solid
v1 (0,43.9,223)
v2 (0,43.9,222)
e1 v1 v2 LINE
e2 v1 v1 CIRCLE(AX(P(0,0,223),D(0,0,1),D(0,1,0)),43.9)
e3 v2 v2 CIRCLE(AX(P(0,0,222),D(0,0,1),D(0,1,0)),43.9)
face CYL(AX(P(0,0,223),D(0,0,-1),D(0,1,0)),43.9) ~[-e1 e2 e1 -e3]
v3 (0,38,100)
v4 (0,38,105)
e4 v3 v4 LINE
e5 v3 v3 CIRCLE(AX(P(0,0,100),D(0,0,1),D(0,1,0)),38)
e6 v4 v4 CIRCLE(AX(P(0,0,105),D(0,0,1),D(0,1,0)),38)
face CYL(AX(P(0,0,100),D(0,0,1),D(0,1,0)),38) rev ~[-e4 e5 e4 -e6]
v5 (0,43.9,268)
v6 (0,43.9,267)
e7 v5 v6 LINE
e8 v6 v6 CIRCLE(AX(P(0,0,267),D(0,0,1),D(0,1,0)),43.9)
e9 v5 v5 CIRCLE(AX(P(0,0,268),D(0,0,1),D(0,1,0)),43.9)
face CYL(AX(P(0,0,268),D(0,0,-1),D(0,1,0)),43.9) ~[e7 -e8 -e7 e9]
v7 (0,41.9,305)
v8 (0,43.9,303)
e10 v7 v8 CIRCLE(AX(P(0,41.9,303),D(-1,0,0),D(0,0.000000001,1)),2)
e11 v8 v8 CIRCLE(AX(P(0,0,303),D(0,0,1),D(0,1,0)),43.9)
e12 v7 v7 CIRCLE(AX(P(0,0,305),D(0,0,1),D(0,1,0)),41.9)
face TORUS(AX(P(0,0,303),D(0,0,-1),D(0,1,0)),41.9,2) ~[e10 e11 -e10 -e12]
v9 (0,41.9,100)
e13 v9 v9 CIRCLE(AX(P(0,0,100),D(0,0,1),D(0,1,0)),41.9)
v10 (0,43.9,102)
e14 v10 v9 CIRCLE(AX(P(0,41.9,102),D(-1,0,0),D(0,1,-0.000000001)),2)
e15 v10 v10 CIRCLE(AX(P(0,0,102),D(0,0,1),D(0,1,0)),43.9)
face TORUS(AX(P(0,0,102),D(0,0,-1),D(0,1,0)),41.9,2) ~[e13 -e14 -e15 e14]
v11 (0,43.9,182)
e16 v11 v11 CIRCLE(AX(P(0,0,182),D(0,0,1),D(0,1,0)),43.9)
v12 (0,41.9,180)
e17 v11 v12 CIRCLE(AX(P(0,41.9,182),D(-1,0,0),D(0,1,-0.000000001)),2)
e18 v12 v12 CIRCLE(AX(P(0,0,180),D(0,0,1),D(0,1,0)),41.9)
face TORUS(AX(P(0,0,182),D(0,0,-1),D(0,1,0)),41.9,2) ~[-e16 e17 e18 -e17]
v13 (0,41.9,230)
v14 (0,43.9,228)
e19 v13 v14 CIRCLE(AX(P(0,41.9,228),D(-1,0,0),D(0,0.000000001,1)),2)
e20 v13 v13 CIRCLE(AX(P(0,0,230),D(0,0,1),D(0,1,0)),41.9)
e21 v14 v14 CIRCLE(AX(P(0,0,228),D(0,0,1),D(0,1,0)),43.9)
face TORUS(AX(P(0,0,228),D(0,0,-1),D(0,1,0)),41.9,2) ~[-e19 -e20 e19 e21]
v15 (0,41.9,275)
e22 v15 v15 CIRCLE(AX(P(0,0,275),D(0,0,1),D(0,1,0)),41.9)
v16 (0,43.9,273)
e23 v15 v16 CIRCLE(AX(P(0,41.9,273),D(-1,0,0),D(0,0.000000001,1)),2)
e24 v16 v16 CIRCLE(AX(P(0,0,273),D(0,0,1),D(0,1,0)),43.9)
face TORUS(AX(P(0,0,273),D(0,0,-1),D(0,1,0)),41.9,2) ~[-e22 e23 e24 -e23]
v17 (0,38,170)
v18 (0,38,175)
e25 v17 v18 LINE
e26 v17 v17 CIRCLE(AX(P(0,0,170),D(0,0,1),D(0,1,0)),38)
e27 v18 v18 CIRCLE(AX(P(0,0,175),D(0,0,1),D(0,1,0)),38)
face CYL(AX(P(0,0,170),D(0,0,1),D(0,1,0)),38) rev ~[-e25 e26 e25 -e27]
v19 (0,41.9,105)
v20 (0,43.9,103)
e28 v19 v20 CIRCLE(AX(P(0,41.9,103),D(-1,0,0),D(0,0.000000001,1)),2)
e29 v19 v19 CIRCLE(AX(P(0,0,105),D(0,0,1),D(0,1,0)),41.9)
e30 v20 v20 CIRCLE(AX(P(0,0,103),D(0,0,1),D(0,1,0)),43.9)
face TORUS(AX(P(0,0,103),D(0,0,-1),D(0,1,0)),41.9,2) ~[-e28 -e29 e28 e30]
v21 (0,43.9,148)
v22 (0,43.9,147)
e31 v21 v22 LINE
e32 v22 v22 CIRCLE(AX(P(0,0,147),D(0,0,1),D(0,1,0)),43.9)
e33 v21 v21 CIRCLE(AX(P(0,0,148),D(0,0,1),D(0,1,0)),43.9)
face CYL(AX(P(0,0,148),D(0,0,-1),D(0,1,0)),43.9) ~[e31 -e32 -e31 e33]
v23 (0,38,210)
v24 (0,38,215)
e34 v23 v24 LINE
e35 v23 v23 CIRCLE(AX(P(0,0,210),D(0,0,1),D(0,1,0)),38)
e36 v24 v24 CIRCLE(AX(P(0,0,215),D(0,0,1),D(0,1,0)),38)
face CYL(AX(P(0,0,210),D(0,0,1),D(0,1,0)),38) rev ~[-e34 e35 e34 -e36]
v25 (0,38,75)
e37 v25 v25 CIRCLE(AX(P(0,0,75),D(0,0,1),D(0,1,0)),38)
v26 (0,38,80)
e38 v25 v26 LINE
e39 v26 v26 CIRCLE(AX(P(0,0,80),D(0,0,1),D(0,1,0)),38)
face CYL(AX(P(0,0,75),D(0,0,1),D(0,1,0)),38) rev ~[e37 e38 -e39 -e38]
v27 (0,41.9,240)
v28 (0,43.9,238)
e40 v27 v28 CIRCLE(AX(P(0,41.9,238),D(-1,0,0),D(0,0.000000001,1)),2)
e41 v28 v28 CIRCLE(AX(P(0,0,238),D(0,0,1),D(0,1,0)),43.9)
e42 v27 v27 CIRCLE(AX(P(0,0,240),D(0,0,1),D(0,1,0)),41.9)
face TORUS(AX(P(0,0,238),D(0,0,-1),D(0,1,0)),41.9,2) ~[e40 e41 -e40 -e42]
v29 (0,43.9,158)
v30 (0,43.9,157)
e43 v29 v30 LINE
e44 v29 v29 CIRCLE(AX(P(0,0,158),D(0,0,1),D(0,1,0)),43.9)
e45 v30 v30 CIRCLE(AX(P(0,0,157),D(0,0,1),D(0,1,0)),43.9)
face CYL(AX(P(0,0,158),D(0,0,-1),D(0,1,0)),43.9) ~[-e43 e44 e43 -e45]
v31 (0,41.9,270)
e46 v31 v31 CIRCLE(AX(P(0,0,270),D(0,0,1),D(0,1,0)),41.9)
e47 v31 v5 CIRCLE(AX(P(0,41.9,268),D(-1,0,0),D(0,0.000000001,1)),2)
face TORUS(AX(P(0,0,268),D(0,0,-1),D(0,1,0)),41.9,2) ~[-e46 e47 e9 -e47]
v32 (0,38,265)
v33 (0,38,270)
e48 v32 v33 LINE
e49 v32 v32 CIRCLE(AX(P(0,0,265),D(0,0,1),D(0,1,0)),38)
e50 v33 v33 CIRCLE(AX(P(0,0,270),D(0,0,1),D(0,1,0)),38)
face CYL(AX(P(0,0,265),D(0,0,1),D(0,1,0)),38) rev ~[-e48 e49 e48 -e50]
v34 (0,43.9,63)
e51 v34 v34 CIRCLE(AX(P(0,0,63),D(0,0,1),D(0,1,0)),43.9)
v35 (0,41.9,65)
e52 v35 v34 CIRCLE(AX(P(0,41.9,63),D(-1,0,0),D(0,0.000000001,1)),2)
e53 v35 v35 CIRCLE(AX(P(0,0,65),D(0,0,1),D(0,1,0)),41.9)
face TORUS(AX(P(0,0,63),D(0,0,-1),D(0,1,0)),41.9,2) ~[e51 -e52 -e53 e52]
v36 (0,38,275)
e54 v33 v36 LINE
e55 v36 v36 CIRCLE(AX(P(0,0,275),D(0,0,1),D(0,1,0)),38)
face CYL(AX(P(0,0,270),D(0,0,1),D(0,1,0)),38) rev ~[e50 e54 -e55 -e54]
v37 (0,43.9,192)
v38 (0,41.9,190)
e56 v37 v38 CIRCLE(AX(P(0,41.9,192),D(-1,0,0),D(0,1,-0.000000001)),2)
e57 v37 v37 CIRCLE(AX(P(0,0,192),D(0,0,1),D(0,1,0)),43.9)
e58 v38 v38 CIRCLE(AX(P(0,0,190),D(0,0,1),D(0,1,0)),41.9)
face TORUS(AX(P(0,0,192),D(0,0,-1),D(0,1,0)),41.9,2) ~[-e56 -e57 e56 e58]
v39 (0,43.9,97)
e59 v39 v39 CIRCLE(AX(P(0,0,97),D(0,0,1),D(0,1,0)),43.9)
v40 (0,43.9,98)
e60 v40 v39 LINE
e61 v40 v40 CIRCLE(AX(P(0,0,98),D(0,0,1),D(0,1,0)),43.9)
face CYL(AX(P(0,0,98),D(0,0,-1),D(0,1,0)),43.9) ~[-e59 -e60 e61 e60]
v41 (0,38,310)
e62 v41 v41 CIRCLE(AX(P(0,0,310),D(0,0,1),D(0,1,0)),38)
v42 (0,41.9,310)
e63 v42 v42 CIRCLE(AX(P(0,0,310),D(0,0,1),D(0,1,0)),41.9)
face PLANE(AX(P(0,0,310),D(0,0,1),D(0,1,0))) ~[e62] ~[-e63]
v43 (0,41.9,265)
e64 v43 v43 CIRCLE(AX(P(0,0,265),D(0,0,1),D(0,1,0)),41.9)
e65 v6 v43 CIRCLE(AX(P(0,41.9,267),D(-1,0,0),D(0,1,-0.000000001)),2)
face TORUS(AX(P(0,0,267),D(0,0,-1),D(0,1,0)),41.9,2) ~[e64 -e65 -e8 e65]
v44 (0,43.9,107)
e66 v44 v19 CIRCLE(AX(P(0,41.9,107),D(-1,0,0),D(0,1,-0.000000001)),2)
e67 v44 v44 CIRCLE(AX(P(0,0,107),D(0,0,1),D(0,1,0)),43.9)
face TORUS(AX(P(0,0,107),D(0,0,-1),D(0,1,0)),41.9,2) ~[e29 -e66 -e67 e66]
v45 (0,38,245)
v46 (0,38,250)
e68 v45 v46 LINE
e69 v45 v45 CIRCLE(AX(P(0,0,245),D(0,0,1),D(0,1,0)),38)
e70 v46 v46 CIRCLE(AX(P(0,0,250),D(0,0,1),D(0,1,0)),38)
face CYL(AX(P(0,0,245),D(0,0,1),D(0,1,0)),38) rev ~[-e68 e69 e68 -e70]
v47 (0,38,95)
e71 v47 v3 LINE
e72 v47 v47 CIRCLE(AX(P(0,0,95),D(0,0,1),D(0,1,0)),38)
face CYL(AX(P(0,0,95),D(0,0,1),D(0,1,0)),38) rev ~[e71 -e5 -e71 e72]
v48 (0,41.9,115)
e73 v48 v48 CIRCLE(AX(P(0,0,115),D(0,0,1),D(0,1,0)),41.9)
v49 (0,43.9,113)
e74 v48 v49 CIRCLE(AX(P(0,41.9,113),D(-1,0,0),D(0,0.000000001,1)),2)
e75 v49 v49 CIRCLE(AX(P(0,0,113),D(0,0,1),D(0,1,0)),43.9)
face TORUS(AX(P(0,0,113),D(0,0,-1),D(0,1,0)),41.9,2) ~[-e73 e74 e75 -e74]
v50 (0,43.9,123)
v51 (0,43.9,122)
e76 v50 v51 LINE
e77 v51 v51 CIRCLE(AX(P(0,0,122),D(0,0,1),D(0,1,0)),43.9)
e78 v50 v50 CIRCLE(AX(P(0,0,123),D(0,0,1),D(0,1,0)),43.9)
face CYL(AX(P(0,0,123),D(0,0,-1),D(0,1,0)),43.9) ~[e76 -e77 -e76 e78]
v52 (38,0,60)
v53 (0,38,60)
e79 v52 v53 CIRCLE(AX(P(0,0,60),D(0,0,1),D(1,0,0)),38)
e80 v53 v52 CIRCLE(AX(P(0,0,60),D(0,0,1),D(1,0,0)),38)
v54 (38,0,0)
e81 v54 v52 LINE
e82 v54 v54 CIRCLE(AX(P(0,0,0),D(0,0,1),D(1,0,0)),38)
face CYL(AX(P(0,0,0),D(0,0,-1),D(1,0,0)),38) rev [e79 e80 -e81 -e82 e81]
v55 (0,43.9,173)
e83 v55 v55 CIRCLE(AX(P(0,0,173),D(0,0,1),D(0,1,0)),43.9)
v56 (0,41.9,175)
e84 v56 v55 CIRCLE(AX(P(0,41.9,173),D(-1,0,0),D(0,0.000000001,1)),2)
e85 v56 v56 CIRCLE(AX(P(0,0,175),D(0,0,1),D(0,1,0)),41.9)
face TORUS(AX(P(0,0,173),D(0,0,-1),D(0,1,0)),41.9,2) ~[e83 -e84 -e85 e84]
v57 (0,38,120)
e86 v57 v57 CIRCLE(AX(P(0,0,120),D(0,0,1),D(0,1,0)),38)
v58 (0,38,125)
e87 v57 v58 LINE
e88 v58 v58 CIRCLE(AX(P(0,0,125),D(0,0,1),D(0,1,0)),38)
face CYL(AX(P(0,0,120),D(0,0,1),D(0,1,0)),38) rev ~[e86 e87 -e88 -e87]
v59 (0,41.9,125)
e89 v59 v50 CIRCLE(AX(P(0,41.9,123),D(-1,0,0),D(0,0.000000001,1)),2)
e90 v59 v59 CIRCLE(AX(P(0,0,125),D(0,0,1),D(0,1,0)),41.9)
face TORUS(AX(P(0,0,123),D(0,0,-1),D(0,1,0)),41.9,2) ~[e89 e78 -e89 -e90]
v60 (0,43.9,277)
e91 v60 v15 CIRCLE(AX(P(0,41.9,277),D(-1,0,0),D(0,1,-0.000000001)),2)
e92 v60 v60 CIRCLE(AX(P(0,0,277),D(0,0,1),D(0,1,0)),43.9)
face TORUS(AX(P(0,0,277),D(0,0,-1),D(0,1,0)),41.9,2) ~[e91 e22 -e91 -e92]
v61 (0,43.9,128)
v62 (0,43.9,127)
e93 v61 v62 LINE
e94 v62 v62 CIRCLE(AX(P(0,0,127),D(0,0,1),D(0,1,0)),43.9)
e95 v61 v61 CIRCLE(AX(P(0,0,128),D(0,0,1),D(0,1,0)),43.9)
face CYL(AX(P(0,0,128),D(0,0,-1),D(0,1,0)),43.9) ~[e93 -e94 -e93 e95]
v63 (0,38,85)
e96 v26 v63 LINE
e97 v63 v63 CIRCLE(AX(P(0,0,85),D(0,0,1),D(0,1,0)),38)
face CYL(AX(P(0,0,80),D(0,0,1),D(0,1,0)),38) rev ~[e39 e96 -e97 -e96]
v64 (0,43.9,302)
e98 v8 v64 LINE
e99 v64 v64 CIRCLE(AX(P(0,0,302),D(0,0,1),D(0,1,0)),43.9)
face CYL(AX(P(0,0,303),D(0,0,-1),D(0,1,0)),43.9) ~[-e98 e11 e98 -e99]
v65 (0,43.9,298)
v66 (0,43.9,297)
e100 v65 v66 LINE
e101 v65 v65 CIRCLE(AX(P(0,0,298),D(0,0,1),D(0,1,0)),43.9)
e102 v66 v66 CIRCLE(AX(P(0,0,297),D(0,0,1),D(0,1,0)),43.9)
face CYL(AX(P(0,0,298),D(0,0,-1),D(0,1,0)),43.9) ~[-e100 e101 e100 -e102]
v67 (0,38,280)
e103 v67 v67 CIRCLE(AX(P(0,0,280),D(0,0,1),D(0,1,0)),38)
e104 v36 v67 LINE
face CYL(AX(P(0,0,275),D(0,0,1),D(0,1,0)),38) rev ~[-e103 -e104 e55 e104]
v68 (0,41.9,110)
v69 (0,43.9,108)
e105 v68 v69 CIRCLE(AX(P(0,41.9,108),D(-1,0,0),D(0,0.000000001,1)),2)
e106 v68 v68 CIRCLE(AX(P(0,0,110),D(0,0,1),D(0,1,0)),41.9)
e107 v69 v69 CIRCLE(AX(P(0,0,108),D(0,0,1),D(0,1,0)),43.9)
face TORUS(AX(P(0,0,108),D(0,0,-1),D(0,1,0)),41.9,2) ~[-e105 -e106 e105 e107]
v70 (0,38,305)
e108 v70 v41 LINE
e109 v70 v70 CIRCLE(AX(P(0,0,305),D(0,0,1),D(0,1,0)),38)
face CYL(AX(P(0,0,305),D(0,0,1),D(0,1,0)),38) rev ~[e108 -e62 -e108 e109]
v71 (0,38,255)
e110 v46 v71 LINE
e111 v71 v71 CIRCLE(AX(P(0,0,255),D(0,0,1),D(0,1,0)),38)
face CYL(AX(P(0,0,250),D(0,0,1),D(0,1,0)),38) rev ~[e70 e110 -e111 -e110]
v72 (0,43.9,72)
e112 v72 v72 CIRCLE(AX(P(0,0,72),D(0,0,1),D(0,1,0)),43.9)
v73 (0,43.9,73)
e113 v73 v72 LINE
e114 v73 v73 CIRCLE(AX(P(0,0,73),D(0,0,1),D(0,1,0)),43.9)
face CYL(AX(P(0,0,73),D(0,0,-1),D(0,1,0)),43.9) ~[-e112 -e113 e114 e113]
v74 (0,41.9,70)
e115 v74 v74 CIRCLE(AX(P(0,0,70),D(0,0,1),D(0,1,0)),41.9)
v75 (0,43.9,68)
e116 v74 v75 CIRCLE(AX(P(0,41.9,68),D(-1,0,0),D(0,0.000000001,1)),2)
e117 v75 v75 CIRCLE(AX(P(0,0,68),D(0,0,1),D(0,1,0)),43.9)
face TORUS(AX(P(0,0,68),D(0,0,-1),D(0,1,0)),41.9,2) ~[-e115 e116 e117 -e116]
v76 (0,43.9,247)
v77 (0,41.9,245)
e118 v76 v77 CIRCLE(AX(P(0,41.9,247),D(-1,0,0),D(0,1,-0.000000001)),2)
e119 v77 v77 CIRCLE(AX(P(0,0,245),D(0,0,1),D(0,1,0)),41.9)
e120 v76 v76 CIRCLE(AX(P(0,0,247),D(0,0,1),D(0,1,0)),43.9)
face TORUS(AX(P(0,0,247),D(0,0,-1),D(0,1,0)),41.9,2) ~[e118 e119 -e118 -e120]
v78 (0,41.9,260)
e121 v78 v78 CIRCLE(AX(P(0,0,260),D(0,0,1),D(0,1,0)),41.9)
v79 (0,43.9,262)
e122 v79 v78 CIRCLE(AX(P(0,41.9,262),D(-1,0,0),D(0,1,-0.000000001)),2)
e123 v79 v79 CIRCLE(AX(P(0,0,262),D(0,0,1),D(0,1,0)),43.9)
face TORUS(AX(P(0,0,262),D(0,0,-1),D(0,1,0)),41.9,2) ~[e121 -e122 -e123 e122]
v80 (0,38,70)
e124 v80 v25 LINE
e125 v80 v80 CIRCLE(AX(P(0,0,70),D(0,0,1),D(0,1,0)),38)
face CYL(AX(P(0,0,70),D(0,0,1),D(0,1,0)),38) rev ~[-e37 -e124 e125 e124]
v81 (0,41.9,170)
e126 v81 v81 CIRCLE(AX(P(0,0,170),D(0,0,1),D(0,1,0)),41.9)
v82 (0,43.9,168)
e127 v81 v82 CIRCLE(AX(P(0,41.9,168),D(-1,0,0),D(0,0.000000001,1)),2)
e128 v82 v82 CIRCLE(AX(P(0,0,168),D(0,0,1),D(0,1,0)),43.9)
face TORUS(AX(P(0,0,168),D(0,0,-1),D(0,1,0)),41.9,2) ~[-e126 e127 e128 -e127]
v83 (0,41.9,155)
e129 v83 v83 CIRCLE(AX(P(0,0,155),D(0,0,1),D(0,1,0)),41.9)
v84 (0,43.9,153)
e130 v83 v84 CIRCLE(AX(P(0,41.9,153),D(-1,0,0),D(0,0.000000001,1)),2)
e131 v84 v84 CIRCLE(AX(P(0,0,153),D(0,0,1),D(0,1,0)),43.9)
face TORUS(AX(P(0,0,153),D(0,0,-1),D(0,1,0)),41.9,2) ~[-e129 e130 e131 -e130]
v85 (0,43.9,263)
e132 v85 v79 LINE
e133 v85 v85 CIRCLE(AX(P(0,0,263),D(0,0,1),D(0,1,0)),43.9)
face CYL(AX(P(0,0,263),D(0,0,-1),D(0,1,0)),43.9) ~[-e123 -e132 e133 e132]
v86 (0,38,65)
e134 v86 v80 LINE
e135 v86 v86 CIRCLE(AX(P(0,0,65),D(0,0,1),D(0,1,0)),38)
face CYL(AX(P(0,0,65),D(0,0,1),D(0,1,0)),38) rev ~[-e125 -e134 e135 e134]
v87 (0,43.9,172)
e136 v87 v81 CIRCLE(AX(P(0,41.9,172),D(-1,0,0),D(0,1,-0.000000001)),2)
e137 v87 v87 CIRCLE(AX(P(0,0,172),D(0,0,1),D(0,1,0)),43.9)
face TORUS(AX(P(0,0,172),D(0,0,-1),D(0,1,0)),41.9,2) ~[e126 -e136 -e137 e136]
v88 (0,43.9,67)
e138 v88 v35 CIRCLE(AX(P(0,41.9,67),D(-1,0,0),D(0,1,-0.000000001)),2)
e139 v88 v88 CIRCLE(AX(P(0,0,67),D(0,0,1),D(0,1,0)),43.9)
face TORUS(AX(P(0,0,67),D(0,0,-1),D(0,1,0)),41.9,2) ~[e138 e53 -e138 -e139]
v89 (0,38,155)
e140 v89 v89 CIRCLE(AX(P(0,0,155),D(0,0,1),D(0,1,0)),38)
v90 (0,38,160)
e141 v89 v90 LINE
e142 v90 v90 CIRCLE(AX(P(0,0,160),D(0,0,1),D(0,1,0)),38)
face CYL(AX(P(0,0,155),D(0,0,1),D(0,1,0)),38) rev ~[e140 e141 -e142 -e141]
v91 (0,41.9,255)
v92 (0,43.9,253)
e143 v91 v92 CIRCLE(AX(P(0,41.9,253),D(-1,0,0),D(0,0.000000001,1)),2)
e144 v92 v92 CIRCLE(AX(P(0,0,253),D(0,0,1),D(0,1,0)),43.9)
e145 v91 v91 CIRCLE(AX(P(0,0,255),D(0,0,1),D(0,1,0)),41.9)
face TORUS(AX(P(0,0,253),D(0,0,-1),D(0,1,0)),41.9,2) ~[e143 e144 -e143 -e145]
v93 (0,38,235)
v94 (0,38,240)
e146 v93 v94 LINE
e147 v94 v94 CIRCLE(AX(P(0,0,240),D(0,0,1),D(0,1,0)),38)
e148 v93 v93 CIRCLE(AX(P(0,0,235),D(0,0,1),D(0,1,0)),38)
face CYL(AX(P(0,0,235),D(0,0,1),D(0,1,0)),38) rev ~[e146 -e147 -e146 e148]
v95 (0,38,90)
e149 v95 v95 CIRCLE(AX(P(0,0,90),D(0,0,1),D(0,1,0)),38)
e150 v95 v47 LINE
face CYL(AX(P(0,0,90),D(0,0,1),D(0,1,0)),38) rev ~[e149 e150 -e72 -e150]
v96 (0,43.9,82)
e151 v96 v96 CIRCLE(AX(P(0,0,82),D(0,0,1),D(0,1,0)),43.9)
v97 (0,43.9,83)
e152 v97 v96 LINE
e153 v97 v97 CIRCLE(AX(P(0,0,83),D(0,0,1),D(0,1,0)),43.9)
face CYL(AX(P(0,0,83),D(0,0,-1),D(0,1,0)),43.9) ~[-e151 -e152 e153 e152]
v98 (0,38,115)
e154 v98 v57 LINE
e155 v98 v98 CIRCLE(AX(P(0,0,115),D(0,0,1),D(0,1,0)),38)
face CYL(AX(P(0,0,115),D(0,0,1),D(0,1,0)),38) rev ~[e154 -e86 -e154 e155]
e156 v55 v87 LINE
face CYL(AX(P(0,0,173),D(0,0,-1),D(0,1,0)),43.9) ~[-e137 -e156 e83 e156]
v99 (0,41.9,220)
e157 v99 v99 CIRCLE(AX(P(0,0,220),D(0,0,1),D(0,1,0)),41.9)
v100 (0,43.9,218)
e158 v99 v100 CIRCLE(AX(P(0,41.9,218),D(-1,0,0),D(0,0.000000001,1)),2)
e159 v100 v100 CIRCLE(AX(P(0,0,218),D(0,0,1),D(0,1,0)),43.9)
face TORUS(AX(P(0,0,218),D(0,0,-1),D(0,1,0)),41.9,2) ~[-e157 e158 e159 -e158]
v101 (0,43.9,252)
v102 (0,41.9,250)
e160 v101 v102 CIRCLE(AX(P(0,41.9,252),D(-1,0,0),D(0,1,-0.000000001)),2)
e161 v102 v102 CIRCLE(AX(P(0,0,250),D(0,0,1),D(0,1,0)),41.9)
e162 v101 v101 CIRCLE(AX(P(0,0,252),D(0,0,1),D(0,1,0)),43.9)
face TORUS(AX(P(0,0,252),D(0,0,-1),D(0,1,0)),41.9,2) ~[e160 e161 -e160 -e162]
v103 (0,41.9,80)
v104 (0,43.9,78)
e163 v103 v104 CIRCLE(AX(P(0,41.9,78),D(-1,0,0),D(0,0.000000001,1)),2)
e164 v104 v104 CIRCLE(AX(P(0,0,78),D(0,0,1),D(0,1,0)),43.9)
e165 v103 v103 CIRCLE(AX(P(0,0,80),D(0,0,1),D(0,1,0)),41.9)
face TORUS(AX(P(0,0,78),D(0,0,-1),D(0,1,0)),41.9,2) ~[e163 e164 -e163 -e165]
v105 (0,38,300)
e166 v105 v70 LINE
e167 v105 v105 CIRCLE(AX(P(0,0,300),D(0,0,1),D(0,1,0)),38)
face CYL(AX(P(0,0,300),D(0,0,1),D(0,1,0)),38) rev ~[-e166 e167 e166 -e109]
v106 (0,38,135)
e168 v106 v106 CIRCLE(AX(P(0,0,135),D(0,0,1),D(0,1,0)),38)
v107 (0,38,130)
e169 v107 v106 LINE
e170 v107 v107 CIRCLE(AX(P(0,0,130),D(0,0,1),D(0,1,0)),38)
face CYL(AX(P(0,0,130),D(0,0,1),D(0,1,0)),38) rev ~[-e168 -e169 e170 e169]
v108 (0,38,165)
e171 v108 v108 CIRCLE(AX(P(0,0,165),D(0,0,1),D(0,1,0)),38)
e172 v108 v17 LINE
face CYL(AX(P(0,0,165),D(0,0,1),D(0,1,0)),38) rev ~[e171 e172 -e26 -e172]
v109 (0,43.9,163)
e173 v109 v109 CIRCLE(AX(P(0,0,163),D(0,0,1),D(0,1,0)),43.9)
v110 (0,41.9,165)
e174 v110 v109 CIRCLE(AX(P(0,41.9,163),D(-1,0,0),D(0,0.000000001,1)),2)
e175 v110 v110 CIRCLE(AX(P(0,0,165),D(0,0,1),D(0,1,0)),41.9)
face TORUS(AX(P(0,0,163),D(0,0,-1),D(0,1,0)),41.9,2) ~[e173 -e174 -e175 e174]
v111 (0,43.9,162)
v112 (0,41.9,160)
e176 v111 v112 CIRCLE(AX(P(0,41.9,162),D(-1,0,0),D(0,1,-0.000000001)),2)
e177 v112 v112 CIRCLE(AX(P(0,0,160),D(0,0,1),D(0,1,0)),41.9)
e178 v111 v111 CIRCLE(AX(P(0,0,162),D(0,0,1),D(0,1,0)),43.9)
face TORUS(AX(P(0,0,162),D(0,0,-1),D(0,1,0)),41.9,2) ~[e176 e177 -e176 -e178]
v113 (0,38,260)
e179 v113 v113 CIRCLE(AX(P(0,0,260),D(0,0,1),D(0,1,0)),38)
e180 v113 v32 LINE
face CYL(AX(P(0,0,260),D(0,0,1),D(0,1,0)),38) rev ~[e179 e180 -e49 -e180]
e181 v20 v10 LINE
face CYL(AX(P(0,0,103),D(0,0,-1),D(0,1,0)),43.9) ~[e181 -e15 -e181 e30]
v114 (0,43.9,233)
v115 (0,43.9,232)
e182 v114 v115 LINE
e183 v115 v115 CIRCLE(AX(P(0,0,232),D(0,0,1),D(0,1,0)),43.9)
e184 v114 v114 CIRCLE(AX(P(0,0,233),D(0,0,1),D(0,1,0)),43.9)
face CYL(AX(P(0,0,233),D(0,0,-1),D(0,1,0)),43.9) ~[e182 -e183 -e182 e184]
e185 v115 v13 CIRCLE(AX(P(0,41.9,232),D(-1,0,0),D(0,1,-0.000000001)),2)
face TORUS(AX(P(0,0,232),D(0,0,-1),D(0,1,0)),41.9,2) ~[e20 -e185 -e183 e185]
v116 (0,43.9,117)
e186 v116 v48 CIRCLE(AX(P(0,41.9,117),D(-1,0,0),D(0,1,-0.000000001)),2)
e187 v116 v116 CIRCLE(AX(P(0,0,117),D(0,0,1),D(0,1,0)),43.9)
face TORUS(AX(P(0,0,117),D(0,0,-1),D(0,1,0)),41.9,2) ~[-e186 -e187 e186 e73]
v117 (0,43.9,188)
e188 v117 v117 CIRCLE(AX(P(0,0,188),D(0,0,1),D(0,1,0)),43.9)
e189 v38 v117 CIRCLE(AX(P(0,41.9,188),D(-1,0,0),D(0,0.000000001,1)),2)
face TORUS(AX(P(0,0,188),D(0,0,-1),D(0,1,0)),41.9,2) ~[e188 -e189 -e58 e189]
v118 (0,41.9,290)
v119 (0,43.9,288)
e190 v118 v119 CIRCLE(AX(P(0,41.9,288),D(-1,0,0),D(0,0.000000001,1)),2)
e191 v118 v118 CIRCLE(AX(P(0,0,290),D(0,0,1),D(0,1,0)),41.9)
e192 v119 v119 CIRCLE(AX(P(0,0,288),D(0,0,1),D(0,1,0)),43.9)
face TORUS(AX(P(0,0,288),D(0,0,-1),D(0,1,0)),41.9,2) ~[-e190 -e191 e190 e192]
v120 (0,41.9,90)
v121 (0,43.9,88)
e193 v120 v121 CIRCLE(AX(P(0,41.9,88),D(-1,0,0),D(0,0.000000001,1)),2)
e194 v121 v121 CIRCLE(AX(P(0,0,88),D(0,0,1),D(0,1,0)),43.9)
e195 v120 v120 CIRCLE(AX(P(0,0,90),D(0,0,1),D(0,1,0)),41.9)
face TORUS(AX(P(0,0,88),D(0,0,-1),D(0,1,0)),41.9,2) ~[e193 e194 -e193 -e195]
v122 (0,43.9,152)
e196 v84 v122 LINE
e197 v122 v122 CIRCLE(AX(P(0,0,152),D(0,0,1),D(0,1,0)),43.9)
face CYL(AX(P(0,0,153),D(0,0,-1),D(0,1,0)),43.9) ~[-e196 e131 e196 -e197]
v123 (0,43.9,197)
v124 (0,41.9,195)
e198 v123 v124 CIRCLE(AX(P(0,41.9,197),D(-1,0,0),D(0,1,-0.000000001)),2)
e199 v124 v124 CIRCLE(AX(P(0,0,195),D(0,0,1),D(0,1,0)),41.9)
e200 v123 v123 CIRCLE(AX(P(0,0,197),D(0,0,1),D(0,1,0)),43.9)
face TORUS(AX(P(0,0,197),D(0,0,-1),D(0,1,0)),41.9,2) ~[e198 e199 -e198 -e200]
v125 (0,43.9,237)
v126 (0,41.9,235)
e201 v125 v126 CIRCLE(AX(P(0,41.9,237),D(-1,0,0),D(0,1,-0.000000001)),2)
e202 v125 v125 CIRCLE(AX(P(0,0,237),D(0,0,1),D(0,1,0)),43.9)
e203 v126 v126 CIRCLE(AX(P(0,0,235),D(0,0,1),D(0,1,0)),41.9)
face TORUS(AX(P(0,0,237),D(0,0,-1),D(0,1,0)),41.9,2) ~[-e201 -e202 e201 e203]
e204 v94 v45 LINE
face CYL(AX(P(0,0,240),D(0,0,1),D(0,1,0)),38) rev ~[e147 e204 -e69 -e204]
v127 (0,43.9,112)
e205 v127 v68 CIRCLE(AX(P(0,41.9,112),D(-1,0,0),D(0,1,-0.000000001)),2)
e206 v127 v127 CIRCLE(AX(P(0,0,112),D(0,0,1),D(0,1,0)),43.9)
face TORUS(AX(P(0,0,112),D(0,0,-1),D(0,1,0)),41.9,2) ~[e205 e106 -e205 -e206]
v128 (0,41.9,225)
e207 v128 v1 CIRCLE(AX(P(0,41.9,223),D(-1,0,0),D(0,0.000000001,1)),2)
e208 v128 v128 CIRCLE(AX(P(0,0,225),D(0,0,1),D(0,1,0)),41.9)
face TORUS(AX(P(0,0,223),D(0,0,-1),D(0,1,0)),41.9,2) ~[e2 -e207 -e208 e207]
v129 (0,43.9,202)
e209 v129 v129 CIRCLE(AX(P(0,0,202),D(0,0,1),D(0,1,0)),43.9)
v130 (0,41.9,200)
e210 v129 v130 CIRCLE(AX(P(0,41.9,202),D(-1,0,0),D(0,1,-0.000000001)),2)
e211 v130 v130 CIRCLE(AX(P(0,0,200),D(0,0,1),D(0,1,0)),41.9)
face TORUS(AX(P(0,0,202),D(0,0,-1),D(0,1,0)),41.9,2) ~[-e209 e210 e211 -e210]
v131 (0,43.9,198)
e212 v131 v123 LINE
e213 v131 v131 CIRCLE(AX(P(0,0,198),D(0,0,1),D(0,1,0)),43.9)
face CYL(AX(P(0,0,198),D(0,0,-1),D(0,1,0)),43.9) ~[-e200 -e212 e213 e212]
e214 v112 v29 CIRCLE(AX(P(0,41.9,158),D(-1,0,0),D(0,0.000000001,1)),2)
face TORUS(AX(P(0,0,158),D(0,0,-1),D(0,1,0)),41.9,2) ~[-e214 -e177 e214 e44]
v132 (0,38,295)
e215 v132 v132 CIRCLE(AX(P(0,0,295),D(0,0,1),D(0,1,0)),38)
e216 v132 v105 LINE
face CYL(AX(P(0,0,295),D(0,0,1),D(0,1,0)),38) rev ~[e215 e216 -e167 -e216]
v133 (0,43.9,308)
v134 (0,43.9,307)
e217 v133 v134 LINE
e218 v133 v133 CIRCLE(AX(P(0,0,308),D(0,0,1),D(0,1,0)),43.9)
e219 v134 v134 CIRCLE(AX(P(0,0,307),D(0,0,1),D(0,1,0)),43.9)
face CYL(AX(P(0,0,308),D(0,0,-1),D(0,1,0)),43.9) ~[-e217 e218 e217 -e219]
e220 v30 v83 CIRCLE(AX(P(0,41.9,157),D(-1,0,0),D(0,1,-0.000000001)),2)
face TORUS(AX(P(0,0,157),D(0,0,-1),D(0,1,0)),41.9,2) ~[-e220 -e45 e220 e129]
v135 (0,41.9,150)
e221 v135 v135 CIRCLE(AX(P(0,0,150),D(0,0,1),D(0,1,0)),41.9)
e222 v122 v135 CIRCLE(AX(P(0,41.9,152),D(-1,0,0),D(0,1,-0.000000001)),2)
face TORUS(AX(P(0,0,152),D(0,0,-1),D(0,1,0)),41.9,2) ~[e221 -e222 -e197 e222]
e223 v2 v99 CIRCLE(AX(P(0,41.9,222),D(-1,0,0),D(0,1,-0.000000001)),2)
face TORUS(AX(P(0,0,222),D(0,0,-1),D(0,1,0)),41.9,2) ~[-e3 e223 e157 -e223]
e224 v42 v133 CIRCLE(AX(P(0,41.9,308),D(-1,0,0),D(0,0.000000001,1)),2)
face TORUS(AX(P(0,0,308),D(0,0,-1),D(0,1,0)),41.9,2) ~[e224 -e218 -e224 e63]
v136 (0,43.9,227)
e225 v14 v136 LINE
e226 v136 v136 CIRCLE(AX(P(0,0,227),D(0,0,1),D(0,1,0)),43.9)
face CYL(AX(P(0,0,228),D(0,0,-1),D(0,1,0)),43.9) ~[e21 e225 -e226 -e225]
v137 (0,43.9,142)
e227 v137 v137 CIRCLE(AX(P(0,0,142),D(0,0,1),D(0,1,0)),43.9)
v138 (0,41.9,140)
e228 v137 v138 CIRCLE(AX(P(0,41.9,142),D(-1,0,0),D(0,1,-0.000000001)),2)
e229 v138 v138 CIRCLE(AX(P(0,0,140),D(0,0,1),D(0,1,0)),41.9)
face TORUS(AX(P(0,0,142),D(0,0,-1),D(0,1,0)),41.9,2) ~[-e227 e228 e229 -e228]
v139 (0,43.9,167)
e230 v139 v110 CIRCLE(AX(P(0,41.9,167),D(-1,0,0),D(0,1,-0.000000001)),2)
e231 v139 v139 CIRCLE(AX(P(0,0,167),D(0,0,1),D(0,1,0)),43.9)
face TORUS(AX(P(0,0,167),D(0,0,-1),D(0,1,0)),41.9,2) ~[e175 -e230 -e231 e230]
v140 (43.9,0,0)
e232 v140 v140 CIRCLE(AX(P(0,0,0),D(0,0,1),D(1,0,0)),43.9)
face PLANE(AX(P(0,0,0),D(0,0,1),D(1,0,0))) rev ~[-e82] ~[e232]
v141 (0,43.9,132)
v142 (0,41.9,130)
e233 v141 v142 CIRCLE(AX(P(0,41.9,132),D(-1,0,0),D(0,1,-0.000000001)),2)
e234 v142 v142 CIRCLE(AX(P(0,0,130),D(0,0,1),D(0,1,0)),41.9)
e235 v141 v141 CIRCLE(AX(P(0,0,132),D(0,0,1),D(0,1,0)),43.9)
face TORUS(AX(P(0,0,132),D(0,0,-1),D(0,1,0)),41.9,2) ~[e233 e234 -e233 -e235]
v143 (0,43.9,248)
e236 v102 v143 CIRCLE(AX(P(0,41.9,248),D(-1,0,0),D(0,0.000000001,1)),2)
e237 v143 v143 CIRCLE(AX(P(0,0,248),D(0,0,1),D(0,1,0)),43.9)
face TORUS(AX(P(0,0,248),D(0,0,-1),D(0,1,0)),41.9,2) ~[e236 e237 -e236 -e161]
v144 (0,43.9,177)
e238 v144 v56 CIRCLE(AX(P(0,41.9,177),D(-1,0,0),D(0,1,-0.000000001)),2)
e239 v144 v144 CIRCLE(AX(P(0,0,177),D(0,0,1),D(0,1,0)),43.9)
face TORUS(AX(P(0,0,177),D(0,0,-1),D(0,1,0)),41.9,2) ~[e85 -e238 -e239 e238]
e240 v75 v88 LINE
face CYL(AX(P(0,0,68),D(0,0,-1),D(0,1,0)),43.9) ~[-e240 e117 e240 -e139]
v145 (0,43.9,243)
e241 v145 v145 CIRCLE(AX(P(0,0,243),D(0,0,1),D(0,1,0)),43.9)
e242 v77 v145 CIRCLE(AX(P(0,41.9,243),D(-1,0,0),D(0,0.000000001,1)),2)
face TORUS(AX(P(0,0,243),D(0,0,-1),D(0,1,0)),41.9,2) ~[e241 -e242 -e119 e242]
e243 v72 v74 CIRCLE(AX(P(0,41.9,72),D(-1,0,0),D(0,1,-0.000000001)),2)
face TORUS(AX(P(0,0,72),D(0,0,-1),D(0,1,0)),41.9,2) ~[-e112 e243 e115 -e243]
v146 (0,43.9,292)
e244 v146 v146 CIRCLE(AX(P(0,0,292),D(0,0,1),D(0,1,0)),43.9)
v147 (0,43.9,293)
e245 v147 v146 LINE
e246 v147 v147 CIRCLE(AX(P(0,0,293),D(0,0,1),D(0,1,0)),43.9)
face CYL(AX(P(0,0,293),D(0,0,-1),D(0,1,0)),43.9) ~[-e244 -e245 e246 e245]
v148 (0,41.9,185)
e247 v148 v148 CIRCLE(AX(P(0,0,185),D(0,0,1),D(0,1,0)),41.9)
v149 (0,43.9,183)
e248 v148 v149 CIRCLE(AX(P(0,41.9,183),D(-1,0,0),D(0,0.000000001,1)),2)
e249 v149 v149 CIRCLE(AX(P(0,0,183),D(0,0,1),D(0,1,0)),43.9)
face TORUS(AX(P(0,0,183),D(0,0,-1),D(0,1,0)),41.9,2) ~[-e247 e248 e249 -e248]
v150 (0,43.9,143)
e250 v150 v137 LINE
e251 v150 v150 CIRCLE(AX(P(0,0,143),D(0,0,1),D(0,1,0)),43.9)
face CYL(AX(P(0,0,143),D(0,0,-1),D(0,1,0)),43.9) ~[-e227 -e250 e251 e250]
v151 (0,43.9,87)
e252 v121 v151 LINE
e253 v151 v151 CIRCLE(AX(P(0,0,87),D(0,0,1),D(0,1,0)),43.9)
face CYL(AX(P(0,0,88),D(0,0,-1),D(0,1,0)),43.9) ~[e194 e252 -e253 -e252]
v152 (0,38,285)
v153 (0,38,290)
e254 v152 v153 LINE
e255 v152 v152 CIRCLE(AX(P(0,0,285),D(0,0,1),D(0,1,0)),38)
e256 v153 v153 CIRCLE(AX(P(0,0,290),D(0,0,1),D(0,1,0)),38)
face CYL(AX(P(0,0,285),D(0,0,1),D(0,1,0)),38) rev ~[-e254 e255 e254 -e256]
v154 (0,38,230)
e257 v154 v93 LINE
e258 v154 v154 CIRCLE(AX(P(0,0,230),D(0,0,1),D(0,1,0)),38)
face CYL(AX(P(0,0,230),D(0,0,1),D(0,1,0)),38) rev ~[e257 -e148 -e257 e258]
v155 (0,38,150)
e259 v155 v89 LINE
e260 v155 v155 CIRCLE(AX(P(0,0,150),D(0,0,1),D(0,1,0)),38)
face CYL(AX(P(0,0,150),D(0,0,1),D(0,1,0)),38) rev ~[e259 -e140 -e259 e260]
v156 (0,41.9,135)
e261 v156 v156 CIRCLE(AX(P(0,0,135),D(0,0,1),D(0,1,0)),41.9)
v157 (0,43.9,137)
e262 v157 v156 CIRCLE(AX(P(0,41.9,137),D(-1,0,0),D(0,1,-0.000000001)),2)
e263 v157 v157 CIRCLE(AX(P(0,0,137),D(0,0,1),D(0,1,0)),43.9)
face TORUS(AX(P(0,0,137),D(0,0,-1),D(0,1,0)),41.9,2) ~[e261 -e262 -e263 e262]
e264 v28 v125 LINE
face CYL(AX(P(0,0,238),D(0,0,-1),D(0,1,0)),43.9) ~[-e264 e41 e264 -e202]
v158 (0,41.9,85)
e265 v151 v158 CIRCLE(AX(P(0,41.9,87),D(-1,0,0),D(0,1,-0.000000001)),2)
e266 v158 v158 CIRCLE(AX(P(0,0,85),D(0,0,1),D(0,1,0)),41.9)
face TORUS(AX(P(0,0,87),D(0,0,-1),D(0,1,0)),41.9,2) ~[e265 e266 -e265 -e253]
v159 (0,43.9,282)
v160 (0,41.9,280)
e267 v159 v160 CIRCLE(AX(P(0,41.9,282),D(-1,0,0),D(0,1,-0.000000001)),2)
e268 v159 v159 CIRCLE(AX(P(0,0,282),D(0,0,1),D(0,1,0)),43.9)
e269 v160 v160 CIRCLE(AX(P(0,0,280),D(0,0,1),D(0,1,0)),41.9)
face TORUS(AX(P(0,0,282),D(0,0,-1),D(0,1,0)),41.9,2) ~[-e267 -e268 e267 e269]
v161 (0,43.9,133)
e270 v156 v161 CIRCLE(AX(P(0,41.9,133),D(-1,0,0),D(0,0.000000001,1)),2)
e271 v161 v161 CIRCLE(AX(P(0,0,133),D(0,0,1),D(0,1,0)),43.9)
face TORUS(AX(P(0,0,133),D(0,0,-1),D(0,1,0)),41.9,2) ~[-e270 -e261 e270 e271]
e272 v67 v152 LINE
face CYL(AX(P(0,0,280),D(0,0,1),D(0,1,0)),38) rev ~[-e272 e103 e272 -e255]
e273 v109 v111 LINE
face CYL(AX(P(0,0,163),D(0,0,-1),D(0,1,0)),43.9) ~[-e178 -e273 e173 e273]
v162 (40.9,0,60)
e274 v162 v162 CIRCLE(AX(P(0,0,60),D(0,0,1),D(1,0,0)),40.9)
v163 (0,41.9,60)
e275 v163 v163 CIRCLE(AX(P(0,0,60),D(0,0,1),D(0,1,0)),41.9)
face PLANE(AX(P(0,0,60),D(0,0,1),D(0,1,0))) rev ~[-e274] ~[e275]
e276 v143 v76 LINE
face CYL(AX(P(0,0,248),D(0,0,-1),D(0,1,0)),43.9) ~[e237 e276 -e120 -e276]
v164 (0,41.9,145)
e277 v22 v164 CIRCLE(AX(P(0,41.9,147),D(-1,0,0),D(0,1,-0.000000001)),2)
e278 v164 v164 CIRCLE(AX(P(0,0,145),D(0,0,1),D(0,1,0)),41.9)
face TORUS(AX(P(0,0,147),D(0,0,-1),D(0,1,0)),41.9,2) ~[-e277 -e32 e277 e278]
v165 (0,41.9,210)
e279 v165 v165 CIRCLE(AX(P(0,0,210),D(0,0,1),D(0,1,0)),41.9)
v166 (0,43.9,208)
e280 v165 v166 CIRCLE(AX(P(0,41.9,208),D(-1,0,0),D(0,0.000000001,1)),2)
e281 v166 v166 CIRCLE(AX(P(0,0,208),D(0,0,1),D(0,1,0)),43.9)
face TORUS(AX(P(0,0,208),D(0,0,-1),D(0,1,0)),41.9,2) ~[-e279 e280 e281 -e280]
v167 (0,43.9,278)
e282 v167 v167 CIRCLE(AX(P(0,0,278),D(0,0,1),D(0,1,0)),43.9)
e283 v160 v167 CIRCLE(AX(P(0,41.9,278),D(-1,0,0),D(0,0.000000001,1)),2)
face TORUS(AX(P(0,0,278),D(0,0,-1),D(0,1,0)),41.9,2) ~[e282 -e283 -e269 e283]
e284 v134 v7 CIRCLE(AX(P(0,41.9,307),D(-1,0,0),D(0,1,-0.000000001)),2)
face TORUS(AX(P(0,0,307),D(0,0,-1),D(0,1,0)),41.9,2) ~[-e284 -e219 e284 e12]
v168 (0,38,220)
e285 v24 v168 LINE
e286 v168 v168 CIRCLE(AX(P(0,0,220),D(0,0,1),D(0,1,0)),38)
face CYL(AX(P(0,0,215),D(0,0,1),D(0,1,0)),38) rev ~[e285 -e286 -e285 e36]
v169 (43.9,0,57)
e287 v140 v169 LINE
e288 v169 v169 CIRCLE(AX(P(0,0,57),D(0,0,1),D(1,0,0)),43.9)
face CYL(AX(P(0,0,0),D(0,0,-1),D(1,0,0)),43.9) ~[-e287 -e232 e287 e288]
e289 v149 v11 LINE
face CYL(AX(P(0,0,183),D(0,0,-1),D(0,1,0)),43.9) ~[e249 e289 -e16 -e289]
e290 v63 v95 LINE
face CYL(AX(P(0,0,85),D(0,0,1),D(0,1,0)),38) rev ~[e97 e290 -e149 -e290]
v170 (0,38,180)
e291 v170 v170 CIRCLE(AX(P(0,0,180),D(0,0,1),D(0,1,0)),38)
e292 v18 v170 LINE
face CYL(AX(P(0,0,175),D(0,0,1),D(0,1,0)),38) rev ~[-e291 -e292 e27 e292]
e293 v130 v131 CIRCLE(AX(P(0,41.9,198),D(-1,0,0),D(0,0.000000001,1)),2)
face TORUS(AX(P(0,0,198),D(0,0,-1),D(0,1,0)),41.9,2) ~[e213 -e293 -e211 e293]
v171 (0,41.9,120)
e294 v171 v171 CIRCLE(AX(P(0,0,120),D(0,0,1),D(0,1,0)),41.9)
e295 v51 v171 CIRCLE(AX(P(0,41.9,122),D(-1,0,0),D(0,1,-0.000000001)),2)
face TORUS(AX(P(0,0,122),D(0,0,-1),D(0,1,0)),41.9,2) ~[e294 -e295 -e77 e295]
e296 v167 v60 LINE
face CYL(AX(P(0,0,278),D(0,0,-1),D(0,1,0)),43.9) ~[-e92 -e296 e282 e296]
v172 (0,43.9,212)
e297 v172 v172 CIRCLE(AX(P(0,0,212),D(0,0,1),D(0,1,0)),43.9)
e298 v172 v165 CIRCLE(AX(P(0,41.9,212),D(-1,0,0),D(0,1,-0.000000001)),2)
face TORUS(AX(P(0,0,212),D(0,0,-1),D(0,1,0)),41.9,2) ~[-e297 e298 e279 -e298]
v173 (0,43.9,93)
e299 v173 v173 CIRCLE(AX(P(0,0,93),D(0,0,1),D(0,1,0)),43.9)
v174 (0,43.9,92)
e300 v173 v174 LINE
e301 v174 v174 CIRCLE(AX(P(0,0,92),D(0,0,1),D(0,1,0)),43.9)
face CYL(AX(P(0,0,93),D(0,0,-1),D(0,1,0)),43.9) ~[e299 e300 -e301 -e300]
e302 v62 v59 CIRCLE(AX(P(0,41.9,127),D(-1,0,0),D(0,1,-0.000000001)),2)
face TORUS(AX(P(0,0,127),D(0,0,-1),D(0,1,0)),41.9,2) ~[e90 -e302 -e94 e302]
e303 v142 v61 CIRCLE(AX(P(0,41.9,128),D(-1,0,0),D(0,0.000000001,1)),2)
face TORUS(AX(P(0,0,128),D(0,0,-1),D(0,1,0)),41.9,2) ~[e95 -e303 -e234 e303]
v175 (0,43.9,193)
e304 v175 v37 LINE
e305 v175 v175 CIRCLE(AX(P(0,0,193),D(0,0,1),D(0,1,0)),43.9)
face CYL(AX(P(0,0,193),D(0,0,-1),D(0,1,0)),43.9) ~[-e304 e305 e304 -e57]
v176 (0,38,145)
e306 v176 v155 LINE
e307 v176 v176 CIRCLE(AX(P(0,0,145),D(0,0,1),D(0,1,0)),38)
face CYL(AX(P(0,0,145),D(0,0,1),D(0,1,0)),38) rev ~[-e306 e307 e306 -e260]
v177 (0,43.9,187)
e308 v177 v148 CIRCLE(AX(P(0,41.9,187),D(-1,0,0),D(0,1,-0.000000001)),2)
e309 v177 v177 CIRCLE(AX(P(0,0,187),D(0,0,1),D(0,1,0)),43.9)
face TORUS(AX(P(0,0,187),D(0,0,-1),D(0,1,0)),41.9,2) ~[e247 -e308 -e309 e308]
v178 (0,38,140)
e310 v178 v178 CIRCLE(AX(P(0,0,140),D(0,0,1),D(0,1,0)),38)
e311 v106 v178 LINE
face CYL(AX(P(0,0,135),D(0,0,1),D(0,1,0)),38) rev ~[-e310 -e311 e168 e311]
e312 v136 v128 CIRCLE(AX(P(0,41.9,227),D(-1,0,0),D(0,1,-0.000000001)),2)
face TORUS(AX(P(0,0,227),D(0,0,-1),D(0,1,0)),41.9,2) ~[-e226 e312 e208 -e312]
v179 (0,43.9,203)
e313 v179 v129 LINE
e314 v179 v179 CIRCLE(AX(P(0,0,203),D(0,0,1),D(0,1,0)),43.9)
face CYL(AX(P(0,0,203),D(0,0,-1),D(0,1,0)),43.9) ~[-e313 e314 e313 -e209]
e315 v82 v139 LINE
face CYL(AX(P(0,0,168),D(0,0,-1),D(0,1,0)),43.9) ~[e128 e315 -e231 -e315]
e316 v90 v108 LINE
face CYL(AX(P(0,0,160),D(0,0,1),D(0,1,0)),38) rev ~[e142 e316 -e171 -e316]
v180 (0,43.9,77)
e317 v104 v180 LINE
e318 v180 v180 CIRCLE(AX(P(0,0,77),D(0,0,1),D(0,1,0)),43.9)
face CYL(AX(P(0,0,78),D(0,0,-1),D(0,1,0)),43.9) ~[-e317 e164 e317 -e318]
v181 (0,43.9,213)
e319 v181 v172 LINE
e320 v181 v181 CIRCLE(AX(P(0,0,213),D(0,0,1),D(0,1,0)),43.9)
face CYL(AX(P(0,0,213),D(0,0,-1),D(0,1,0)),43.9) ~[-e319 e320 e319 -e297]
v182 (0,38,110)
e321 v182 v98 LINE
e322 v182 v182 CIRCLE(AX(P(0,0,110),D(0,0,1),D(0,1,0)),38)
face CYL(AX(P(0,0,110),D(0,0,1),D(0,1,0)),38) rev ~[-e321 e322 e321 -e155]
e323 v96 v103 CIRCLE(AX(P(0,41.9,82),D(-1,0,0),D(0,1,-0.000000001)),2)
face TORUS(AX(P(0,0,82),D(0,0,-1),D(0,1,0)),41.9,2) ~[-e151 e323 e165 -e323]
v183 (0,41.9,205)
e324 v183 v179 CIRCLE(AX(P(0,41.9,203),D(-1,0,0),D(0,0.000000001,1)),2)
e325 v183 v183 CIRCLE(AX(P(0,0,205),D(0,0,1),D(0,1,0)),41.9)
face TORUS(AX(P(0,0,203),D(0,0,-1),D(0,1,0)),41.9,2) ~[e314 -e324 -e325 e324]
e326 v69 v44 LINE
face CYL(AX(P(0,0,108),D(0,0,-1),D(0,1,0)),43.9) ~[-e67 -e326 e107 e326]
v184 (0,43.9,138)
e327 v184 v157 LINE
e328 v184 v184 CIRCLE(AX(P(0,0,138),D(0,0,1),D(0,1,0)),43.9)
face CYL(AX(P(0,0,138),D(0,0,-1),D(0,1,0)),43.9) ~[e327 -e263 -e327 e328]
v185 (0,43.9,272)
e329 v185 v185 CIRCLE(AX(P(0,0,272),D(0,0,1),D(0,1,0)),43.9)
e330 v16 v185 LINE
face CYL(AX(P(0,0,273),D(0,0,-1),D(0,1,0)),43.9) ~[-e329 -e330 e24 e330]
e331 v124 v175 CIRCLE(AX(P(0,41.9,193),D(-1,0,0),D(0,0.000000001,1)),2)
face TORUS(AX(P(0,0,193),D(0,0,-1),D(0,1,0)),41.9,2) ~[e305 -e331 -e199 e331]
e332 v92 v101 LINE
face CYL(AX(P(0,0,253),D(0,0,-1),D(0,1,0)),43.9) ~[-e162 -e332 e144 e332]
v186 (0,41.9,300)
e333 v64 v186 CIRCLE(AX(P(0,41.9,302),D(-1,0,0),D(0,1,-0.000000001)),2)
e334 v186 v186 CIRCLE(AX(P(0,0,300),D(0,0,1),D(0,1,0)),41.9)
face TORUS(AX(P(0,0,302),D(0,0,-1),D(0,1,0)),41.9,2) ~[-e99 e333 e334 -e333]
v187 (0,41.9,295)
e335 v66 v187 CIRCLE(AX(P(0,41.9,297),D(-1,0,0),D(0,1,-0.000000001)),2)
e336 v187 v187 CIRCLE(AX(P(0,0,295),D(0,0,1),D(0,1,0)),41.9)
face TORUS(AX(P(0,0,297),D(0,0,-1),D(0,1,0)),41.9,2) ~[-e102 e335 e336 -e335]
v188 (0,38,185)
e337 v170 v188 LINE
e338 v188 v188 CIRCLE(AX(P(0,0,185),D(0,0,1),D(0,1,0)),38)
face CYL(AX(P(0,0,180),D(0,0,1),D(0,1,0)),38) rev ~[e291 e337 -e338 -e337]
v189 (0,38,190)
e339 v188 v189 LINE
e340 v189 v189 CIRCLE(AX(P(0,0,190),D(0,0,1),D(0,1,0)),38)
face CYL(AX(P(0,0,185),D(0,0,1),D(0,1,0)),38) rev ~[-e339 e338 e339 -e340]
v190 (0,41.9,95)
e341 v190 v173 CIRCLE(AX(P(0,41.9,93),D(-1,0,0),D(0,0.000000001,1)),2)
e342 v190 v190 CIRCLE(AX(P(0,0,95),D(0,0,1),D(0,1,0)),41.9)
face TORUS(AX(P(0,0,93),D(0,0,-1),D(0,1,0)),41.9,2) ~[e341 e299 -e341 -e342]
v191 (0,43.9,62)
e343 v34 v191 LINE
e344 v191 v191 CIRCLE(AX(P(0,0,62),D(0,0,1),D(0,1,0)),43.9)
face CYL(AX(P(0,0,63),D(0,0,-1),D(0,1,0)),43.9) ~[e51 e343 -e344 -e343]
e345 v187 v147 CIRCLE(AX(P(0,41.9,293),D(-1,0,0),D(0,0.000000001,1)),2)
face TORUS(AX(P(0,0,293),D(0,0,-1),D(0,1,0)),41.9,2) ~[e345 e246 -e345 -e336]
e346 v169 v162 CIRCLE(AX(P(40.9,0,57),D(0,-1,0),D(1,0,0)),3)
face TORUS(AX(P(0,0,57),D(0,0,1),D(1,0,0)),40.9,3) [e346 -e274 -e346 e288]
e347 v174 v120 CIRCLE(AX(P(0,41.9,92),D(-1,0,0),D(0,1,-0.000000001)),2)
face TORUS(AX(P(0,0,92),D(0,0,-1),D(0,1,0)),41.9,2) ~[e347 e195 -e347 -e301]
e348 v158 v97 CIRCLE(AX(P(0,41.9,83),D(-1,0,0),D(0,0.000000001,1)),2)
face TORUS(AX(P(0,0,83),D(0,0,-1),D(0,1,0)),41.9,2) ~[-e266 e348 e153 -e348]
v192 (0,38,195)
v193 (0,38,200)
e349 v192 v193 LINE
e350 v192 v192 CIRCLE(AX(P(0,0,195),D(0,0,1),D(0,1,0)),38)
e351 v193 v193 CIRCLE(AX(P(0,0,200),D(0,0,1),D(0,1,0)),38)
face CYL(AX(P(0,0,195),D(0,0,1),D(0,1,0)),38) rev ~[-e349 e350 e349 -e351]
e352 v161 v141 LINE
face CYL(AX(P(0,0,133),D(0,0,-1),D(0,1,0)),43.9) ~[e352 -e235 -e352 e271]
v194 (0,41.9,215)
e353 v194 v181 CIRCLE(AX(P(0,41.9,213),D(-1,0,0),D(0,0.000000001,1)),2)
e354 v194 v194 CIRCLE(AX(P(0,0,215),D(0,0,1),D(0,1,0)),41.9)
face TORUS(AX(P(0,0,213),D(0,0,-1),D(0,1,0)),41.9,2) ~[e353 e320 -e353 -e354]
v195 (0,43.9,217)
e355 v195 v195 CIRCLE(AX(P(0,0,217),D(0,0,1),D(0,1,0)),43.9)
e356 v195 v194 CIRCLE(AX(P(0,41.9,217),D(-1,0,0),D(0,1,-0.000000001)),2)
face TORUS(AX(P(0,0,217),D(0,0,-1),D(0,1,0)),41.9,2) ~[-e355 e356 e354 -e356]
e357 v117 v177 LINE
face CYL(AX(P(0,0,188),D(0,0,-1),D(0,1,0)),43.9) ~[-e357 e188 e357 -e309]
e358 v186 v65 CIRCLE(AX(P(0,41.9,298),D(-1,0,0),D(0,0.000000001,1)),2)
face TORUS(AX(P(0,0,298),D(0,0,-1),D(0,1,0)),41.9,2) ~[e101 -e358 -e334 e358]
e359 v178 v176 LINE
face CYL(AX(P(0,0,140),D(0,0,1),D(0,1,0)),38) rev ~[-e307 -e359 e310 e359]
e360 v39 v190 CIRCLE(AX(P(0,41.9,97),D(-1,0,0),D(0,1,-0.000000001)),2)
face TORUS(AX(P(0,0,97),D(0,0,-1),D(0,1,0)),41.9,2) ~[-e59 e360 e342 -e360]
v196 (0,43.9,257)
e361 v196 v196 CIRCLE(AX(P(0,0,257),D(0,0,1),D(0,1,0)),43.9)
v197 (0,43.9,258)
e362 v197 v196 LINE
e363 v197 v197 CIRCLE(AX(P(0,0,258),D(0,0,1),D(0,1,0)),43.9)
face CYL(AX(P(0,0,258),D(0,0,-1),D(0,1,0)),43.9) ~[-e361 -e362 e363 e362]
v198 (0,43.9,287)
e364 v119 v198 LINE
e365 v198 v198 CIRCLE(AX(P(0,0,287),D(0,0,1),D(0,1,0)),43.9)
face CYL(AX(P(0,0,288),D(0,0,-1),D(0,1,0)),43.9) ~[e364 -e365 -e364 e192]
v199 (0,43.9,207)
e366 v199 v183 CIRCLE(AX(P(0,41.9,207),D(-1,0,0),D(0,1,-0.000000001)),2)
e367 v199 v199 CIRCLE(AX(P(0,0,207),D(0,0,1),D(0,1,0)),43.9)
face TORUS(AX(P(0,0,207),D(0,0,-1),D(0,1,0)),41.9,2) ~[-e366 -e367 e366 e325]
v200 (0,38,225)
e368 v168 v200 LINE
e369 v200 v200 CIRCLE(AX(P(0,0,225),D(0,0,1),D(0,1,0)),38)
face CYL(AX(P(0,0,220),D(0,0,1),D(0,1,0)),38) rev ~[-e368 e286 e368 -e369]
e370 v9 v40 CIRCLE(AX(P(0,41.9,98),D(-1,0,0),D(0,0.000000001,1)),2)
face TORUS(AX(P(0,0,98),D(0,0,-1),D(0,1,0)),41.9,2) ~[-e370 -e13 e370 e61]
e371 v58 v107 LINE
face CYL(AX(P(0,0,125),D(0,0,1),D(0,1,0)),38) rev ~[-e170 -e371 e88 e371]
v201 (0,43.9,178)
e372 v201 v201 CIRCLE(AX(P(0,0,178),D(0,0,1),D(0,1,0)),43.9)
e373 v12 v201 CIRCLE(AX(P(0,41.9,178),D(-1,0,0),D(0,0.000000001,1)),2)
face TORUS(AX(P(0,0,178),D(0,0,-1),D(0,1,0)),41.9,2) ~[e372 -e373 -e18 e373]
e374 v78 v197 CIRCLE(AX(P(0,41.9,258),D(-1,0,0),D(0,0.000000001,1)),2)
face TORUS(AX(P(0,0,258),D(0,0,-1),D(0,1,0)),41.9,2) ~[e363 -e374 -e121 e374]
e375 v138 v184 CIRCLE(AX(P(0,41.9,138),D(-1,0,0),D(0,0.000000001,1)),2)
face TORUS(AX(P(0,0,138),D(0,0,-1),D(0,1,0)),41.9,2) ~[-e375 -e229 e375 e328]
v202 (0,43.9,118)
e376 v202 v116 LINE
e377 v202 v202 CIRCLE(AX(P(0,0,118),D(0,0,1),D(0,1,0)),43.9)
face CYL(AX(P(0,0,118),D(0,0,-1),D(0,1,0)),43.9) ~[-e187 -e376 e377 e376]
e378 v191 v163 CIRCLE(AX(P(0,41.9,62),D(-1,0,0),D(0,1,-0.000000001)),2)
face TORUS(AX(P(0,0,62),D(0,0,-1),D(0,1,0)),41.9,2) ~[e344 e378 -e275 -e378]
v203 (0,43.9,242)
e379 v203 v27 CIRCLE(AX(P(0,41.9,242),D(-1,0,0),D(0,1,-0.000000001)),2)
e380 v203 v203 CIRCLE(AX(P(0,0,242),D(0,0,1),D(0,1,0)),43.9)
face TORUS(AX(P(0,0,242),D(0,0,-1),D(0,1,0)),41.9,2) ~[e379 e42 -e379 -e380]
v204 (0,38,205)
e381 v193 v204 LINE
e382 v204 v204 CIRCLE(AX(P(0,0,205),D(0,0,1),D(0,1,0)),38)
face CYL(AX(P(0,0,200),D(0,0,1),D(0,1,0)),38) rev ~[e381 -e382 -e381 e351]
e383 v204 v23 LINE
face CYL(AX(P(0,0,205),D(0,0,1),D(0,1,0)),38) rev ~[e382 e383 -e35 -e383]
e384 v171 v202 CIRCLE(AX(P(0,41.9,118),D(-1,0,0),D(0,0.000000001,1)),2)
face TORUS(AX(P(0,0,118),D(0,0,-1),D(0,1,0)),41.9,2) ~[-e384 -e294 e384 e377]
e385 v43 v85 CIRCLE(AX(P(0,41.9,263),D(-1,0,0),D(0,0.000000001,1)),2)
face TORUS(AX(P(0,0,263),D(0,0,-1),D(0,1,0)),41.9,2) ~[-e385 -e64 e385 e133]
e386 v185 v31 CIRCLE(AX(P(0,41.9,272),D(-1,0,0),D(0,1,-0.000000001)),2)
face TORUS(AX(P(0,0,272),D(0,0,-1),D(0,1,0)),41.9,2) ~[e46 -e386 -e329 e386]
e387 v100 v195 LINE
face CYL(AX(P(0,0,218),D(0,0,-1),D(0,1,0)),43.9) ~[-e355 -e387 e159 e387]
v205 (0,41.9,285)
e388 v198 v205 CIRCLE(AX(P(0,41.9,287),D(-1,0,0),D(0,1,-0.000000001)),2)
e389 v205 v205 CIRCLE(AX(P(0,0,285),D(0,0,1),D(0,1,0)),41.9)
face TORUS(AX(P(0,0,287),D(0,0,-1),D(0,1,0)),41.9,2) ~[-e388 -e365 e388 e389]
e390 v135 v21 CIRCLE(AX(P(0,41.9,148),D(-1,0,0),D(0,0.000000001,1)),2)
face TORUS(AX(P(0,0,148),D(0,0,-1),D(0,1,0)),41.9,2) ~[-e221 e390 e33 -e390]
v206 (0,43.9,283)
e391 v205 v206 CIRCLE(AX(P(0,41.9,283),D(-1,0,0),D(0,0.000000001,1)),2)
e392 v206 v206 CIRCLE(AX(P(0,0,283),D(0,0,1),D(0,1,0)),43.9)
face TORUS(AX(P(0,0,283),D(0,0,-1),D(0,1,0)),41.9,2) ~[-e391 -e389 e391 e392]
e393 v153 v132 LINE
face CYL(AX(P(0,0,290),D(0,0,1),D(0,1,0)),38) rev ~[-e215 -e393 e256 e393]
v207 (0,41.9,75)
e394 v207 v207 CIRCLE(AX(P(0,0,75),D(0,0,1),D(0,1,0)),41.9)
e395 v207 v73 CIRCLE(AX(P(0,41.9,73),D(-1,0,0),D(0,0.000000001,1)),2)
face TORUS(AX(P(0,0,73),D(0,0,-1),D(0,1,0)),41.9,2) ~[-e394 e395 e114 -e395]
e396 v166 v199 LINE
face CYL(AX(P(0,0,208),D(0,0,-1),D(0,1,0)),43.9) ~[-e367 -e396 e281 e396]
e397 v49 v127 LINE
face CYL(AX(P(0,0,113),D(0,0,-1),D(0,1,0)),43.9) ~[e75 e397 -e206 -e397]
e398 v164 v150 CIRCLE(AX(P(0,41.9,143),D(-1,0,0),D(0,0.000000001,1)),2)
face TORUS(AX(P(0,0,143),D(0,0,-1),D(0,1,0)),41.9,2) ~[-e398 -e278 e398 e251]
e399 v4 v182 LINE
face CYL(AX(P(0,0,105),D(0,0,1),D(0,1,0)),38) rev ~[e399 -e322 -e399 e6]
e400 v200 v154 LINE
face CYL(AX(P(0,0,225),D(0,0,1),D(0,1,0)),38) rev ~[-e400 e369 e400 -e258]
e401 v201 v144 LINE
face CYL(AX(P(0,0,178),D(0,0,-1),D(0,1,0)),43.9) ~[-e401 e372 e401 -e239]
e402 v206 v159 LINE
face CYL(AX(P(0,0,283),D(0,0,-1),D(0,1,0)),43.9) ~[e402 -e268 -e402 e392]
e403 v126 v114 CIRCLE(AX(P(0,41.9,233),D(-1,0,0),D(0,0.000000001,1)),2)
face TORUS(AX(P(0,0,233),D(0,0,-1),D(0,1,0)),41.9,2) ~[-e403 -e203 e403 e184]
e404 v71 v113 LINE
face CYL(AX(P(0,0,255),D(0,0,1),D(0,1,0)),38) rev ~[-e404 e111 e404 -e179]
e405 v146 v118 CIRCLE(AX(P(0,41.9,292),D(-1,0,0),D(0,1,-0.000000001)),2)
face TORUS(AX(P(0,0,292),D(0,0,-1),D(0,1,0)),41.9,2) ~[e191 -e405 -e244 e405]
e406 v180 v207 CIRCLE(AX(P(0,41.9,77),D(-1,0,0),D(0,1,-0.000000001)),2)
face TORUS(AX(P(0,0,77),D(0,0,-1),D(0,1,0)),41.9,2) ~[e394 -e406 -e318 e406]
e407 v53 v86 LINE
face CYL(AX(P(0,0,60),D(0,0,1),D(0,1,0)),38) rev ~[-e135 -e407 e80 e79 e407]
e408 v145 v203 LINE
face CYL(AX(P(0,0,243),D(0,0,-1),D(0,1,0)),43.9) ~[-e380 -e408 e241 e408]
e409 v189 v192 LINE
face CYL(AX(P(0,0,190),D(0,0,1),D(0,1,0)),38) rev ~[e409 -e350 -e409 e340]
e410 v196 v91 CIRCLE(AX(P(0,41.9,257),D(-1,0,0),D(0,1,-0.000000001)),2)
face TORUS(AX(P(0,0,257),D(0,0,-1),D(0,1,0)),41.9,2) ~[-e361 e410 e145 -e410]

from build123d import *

# Parameters (mm, degrees)
SKETCH1_R           = 43.9
SKETCH1_R_2         = 38
BOSS_EXTRUDE1_DEPTH = 60
FILLET1_R           = 3
LPATTERN1_COUNT     = 50
LPATTERN1_PITCH     = 5


with BuildPart() as part:
    # Sketch1 → Boss-Extrude1 (new body)
    with BuildSketch(Plane.XY):
        Circle(SKETCH1_R)
        Circle(SKETCH1_R_2, mode=Mode.SUBTRACT)
    extrude(amount=BOSS_EXTRUDE1_DEPTH)

    # Fillet1
    fillet1_edges = [part.edges().sort_by_distance(p)[0] for p in [
        (-43.9, 0, 60),
    ]]
    fillet(fillet1_edges, radius=FILLET1_R)

    # Sketch2 → Revolve1 (revolve)
    with BuildSketch(Plane(origin=(0, 0, 0), x_dir=(0, 0, -1), z_dir=(1, 0, 0))):
        with BuildLine():
            Line((-60, 38), (-65, 38))
            Line((-65, 38), (-65, 41.9))
            ThreePointArc((-65, 41.9), (-64.414213562, 43.314213562), (-63, 43.9))
            Line((-63, 43.9), (-62, 43.9))
            ThreePointArc((-62, 43.9), (-60.585786438, 43.314213562), (-60, 41.9))
            Line((-60, 41.9), (-60, 38))
        make_face()
    revolve1 = revolve(axis=Axis((0, 0, 0), (0, 0, 1)))

    # LPattern1: Revolve1 ×50
    with Locations(*[(0, 0, i * LPATTERN1_PITCH) for i in range(1, LPATTERN1_COUNT)]):
        add(revolve1)


solid = part.part
